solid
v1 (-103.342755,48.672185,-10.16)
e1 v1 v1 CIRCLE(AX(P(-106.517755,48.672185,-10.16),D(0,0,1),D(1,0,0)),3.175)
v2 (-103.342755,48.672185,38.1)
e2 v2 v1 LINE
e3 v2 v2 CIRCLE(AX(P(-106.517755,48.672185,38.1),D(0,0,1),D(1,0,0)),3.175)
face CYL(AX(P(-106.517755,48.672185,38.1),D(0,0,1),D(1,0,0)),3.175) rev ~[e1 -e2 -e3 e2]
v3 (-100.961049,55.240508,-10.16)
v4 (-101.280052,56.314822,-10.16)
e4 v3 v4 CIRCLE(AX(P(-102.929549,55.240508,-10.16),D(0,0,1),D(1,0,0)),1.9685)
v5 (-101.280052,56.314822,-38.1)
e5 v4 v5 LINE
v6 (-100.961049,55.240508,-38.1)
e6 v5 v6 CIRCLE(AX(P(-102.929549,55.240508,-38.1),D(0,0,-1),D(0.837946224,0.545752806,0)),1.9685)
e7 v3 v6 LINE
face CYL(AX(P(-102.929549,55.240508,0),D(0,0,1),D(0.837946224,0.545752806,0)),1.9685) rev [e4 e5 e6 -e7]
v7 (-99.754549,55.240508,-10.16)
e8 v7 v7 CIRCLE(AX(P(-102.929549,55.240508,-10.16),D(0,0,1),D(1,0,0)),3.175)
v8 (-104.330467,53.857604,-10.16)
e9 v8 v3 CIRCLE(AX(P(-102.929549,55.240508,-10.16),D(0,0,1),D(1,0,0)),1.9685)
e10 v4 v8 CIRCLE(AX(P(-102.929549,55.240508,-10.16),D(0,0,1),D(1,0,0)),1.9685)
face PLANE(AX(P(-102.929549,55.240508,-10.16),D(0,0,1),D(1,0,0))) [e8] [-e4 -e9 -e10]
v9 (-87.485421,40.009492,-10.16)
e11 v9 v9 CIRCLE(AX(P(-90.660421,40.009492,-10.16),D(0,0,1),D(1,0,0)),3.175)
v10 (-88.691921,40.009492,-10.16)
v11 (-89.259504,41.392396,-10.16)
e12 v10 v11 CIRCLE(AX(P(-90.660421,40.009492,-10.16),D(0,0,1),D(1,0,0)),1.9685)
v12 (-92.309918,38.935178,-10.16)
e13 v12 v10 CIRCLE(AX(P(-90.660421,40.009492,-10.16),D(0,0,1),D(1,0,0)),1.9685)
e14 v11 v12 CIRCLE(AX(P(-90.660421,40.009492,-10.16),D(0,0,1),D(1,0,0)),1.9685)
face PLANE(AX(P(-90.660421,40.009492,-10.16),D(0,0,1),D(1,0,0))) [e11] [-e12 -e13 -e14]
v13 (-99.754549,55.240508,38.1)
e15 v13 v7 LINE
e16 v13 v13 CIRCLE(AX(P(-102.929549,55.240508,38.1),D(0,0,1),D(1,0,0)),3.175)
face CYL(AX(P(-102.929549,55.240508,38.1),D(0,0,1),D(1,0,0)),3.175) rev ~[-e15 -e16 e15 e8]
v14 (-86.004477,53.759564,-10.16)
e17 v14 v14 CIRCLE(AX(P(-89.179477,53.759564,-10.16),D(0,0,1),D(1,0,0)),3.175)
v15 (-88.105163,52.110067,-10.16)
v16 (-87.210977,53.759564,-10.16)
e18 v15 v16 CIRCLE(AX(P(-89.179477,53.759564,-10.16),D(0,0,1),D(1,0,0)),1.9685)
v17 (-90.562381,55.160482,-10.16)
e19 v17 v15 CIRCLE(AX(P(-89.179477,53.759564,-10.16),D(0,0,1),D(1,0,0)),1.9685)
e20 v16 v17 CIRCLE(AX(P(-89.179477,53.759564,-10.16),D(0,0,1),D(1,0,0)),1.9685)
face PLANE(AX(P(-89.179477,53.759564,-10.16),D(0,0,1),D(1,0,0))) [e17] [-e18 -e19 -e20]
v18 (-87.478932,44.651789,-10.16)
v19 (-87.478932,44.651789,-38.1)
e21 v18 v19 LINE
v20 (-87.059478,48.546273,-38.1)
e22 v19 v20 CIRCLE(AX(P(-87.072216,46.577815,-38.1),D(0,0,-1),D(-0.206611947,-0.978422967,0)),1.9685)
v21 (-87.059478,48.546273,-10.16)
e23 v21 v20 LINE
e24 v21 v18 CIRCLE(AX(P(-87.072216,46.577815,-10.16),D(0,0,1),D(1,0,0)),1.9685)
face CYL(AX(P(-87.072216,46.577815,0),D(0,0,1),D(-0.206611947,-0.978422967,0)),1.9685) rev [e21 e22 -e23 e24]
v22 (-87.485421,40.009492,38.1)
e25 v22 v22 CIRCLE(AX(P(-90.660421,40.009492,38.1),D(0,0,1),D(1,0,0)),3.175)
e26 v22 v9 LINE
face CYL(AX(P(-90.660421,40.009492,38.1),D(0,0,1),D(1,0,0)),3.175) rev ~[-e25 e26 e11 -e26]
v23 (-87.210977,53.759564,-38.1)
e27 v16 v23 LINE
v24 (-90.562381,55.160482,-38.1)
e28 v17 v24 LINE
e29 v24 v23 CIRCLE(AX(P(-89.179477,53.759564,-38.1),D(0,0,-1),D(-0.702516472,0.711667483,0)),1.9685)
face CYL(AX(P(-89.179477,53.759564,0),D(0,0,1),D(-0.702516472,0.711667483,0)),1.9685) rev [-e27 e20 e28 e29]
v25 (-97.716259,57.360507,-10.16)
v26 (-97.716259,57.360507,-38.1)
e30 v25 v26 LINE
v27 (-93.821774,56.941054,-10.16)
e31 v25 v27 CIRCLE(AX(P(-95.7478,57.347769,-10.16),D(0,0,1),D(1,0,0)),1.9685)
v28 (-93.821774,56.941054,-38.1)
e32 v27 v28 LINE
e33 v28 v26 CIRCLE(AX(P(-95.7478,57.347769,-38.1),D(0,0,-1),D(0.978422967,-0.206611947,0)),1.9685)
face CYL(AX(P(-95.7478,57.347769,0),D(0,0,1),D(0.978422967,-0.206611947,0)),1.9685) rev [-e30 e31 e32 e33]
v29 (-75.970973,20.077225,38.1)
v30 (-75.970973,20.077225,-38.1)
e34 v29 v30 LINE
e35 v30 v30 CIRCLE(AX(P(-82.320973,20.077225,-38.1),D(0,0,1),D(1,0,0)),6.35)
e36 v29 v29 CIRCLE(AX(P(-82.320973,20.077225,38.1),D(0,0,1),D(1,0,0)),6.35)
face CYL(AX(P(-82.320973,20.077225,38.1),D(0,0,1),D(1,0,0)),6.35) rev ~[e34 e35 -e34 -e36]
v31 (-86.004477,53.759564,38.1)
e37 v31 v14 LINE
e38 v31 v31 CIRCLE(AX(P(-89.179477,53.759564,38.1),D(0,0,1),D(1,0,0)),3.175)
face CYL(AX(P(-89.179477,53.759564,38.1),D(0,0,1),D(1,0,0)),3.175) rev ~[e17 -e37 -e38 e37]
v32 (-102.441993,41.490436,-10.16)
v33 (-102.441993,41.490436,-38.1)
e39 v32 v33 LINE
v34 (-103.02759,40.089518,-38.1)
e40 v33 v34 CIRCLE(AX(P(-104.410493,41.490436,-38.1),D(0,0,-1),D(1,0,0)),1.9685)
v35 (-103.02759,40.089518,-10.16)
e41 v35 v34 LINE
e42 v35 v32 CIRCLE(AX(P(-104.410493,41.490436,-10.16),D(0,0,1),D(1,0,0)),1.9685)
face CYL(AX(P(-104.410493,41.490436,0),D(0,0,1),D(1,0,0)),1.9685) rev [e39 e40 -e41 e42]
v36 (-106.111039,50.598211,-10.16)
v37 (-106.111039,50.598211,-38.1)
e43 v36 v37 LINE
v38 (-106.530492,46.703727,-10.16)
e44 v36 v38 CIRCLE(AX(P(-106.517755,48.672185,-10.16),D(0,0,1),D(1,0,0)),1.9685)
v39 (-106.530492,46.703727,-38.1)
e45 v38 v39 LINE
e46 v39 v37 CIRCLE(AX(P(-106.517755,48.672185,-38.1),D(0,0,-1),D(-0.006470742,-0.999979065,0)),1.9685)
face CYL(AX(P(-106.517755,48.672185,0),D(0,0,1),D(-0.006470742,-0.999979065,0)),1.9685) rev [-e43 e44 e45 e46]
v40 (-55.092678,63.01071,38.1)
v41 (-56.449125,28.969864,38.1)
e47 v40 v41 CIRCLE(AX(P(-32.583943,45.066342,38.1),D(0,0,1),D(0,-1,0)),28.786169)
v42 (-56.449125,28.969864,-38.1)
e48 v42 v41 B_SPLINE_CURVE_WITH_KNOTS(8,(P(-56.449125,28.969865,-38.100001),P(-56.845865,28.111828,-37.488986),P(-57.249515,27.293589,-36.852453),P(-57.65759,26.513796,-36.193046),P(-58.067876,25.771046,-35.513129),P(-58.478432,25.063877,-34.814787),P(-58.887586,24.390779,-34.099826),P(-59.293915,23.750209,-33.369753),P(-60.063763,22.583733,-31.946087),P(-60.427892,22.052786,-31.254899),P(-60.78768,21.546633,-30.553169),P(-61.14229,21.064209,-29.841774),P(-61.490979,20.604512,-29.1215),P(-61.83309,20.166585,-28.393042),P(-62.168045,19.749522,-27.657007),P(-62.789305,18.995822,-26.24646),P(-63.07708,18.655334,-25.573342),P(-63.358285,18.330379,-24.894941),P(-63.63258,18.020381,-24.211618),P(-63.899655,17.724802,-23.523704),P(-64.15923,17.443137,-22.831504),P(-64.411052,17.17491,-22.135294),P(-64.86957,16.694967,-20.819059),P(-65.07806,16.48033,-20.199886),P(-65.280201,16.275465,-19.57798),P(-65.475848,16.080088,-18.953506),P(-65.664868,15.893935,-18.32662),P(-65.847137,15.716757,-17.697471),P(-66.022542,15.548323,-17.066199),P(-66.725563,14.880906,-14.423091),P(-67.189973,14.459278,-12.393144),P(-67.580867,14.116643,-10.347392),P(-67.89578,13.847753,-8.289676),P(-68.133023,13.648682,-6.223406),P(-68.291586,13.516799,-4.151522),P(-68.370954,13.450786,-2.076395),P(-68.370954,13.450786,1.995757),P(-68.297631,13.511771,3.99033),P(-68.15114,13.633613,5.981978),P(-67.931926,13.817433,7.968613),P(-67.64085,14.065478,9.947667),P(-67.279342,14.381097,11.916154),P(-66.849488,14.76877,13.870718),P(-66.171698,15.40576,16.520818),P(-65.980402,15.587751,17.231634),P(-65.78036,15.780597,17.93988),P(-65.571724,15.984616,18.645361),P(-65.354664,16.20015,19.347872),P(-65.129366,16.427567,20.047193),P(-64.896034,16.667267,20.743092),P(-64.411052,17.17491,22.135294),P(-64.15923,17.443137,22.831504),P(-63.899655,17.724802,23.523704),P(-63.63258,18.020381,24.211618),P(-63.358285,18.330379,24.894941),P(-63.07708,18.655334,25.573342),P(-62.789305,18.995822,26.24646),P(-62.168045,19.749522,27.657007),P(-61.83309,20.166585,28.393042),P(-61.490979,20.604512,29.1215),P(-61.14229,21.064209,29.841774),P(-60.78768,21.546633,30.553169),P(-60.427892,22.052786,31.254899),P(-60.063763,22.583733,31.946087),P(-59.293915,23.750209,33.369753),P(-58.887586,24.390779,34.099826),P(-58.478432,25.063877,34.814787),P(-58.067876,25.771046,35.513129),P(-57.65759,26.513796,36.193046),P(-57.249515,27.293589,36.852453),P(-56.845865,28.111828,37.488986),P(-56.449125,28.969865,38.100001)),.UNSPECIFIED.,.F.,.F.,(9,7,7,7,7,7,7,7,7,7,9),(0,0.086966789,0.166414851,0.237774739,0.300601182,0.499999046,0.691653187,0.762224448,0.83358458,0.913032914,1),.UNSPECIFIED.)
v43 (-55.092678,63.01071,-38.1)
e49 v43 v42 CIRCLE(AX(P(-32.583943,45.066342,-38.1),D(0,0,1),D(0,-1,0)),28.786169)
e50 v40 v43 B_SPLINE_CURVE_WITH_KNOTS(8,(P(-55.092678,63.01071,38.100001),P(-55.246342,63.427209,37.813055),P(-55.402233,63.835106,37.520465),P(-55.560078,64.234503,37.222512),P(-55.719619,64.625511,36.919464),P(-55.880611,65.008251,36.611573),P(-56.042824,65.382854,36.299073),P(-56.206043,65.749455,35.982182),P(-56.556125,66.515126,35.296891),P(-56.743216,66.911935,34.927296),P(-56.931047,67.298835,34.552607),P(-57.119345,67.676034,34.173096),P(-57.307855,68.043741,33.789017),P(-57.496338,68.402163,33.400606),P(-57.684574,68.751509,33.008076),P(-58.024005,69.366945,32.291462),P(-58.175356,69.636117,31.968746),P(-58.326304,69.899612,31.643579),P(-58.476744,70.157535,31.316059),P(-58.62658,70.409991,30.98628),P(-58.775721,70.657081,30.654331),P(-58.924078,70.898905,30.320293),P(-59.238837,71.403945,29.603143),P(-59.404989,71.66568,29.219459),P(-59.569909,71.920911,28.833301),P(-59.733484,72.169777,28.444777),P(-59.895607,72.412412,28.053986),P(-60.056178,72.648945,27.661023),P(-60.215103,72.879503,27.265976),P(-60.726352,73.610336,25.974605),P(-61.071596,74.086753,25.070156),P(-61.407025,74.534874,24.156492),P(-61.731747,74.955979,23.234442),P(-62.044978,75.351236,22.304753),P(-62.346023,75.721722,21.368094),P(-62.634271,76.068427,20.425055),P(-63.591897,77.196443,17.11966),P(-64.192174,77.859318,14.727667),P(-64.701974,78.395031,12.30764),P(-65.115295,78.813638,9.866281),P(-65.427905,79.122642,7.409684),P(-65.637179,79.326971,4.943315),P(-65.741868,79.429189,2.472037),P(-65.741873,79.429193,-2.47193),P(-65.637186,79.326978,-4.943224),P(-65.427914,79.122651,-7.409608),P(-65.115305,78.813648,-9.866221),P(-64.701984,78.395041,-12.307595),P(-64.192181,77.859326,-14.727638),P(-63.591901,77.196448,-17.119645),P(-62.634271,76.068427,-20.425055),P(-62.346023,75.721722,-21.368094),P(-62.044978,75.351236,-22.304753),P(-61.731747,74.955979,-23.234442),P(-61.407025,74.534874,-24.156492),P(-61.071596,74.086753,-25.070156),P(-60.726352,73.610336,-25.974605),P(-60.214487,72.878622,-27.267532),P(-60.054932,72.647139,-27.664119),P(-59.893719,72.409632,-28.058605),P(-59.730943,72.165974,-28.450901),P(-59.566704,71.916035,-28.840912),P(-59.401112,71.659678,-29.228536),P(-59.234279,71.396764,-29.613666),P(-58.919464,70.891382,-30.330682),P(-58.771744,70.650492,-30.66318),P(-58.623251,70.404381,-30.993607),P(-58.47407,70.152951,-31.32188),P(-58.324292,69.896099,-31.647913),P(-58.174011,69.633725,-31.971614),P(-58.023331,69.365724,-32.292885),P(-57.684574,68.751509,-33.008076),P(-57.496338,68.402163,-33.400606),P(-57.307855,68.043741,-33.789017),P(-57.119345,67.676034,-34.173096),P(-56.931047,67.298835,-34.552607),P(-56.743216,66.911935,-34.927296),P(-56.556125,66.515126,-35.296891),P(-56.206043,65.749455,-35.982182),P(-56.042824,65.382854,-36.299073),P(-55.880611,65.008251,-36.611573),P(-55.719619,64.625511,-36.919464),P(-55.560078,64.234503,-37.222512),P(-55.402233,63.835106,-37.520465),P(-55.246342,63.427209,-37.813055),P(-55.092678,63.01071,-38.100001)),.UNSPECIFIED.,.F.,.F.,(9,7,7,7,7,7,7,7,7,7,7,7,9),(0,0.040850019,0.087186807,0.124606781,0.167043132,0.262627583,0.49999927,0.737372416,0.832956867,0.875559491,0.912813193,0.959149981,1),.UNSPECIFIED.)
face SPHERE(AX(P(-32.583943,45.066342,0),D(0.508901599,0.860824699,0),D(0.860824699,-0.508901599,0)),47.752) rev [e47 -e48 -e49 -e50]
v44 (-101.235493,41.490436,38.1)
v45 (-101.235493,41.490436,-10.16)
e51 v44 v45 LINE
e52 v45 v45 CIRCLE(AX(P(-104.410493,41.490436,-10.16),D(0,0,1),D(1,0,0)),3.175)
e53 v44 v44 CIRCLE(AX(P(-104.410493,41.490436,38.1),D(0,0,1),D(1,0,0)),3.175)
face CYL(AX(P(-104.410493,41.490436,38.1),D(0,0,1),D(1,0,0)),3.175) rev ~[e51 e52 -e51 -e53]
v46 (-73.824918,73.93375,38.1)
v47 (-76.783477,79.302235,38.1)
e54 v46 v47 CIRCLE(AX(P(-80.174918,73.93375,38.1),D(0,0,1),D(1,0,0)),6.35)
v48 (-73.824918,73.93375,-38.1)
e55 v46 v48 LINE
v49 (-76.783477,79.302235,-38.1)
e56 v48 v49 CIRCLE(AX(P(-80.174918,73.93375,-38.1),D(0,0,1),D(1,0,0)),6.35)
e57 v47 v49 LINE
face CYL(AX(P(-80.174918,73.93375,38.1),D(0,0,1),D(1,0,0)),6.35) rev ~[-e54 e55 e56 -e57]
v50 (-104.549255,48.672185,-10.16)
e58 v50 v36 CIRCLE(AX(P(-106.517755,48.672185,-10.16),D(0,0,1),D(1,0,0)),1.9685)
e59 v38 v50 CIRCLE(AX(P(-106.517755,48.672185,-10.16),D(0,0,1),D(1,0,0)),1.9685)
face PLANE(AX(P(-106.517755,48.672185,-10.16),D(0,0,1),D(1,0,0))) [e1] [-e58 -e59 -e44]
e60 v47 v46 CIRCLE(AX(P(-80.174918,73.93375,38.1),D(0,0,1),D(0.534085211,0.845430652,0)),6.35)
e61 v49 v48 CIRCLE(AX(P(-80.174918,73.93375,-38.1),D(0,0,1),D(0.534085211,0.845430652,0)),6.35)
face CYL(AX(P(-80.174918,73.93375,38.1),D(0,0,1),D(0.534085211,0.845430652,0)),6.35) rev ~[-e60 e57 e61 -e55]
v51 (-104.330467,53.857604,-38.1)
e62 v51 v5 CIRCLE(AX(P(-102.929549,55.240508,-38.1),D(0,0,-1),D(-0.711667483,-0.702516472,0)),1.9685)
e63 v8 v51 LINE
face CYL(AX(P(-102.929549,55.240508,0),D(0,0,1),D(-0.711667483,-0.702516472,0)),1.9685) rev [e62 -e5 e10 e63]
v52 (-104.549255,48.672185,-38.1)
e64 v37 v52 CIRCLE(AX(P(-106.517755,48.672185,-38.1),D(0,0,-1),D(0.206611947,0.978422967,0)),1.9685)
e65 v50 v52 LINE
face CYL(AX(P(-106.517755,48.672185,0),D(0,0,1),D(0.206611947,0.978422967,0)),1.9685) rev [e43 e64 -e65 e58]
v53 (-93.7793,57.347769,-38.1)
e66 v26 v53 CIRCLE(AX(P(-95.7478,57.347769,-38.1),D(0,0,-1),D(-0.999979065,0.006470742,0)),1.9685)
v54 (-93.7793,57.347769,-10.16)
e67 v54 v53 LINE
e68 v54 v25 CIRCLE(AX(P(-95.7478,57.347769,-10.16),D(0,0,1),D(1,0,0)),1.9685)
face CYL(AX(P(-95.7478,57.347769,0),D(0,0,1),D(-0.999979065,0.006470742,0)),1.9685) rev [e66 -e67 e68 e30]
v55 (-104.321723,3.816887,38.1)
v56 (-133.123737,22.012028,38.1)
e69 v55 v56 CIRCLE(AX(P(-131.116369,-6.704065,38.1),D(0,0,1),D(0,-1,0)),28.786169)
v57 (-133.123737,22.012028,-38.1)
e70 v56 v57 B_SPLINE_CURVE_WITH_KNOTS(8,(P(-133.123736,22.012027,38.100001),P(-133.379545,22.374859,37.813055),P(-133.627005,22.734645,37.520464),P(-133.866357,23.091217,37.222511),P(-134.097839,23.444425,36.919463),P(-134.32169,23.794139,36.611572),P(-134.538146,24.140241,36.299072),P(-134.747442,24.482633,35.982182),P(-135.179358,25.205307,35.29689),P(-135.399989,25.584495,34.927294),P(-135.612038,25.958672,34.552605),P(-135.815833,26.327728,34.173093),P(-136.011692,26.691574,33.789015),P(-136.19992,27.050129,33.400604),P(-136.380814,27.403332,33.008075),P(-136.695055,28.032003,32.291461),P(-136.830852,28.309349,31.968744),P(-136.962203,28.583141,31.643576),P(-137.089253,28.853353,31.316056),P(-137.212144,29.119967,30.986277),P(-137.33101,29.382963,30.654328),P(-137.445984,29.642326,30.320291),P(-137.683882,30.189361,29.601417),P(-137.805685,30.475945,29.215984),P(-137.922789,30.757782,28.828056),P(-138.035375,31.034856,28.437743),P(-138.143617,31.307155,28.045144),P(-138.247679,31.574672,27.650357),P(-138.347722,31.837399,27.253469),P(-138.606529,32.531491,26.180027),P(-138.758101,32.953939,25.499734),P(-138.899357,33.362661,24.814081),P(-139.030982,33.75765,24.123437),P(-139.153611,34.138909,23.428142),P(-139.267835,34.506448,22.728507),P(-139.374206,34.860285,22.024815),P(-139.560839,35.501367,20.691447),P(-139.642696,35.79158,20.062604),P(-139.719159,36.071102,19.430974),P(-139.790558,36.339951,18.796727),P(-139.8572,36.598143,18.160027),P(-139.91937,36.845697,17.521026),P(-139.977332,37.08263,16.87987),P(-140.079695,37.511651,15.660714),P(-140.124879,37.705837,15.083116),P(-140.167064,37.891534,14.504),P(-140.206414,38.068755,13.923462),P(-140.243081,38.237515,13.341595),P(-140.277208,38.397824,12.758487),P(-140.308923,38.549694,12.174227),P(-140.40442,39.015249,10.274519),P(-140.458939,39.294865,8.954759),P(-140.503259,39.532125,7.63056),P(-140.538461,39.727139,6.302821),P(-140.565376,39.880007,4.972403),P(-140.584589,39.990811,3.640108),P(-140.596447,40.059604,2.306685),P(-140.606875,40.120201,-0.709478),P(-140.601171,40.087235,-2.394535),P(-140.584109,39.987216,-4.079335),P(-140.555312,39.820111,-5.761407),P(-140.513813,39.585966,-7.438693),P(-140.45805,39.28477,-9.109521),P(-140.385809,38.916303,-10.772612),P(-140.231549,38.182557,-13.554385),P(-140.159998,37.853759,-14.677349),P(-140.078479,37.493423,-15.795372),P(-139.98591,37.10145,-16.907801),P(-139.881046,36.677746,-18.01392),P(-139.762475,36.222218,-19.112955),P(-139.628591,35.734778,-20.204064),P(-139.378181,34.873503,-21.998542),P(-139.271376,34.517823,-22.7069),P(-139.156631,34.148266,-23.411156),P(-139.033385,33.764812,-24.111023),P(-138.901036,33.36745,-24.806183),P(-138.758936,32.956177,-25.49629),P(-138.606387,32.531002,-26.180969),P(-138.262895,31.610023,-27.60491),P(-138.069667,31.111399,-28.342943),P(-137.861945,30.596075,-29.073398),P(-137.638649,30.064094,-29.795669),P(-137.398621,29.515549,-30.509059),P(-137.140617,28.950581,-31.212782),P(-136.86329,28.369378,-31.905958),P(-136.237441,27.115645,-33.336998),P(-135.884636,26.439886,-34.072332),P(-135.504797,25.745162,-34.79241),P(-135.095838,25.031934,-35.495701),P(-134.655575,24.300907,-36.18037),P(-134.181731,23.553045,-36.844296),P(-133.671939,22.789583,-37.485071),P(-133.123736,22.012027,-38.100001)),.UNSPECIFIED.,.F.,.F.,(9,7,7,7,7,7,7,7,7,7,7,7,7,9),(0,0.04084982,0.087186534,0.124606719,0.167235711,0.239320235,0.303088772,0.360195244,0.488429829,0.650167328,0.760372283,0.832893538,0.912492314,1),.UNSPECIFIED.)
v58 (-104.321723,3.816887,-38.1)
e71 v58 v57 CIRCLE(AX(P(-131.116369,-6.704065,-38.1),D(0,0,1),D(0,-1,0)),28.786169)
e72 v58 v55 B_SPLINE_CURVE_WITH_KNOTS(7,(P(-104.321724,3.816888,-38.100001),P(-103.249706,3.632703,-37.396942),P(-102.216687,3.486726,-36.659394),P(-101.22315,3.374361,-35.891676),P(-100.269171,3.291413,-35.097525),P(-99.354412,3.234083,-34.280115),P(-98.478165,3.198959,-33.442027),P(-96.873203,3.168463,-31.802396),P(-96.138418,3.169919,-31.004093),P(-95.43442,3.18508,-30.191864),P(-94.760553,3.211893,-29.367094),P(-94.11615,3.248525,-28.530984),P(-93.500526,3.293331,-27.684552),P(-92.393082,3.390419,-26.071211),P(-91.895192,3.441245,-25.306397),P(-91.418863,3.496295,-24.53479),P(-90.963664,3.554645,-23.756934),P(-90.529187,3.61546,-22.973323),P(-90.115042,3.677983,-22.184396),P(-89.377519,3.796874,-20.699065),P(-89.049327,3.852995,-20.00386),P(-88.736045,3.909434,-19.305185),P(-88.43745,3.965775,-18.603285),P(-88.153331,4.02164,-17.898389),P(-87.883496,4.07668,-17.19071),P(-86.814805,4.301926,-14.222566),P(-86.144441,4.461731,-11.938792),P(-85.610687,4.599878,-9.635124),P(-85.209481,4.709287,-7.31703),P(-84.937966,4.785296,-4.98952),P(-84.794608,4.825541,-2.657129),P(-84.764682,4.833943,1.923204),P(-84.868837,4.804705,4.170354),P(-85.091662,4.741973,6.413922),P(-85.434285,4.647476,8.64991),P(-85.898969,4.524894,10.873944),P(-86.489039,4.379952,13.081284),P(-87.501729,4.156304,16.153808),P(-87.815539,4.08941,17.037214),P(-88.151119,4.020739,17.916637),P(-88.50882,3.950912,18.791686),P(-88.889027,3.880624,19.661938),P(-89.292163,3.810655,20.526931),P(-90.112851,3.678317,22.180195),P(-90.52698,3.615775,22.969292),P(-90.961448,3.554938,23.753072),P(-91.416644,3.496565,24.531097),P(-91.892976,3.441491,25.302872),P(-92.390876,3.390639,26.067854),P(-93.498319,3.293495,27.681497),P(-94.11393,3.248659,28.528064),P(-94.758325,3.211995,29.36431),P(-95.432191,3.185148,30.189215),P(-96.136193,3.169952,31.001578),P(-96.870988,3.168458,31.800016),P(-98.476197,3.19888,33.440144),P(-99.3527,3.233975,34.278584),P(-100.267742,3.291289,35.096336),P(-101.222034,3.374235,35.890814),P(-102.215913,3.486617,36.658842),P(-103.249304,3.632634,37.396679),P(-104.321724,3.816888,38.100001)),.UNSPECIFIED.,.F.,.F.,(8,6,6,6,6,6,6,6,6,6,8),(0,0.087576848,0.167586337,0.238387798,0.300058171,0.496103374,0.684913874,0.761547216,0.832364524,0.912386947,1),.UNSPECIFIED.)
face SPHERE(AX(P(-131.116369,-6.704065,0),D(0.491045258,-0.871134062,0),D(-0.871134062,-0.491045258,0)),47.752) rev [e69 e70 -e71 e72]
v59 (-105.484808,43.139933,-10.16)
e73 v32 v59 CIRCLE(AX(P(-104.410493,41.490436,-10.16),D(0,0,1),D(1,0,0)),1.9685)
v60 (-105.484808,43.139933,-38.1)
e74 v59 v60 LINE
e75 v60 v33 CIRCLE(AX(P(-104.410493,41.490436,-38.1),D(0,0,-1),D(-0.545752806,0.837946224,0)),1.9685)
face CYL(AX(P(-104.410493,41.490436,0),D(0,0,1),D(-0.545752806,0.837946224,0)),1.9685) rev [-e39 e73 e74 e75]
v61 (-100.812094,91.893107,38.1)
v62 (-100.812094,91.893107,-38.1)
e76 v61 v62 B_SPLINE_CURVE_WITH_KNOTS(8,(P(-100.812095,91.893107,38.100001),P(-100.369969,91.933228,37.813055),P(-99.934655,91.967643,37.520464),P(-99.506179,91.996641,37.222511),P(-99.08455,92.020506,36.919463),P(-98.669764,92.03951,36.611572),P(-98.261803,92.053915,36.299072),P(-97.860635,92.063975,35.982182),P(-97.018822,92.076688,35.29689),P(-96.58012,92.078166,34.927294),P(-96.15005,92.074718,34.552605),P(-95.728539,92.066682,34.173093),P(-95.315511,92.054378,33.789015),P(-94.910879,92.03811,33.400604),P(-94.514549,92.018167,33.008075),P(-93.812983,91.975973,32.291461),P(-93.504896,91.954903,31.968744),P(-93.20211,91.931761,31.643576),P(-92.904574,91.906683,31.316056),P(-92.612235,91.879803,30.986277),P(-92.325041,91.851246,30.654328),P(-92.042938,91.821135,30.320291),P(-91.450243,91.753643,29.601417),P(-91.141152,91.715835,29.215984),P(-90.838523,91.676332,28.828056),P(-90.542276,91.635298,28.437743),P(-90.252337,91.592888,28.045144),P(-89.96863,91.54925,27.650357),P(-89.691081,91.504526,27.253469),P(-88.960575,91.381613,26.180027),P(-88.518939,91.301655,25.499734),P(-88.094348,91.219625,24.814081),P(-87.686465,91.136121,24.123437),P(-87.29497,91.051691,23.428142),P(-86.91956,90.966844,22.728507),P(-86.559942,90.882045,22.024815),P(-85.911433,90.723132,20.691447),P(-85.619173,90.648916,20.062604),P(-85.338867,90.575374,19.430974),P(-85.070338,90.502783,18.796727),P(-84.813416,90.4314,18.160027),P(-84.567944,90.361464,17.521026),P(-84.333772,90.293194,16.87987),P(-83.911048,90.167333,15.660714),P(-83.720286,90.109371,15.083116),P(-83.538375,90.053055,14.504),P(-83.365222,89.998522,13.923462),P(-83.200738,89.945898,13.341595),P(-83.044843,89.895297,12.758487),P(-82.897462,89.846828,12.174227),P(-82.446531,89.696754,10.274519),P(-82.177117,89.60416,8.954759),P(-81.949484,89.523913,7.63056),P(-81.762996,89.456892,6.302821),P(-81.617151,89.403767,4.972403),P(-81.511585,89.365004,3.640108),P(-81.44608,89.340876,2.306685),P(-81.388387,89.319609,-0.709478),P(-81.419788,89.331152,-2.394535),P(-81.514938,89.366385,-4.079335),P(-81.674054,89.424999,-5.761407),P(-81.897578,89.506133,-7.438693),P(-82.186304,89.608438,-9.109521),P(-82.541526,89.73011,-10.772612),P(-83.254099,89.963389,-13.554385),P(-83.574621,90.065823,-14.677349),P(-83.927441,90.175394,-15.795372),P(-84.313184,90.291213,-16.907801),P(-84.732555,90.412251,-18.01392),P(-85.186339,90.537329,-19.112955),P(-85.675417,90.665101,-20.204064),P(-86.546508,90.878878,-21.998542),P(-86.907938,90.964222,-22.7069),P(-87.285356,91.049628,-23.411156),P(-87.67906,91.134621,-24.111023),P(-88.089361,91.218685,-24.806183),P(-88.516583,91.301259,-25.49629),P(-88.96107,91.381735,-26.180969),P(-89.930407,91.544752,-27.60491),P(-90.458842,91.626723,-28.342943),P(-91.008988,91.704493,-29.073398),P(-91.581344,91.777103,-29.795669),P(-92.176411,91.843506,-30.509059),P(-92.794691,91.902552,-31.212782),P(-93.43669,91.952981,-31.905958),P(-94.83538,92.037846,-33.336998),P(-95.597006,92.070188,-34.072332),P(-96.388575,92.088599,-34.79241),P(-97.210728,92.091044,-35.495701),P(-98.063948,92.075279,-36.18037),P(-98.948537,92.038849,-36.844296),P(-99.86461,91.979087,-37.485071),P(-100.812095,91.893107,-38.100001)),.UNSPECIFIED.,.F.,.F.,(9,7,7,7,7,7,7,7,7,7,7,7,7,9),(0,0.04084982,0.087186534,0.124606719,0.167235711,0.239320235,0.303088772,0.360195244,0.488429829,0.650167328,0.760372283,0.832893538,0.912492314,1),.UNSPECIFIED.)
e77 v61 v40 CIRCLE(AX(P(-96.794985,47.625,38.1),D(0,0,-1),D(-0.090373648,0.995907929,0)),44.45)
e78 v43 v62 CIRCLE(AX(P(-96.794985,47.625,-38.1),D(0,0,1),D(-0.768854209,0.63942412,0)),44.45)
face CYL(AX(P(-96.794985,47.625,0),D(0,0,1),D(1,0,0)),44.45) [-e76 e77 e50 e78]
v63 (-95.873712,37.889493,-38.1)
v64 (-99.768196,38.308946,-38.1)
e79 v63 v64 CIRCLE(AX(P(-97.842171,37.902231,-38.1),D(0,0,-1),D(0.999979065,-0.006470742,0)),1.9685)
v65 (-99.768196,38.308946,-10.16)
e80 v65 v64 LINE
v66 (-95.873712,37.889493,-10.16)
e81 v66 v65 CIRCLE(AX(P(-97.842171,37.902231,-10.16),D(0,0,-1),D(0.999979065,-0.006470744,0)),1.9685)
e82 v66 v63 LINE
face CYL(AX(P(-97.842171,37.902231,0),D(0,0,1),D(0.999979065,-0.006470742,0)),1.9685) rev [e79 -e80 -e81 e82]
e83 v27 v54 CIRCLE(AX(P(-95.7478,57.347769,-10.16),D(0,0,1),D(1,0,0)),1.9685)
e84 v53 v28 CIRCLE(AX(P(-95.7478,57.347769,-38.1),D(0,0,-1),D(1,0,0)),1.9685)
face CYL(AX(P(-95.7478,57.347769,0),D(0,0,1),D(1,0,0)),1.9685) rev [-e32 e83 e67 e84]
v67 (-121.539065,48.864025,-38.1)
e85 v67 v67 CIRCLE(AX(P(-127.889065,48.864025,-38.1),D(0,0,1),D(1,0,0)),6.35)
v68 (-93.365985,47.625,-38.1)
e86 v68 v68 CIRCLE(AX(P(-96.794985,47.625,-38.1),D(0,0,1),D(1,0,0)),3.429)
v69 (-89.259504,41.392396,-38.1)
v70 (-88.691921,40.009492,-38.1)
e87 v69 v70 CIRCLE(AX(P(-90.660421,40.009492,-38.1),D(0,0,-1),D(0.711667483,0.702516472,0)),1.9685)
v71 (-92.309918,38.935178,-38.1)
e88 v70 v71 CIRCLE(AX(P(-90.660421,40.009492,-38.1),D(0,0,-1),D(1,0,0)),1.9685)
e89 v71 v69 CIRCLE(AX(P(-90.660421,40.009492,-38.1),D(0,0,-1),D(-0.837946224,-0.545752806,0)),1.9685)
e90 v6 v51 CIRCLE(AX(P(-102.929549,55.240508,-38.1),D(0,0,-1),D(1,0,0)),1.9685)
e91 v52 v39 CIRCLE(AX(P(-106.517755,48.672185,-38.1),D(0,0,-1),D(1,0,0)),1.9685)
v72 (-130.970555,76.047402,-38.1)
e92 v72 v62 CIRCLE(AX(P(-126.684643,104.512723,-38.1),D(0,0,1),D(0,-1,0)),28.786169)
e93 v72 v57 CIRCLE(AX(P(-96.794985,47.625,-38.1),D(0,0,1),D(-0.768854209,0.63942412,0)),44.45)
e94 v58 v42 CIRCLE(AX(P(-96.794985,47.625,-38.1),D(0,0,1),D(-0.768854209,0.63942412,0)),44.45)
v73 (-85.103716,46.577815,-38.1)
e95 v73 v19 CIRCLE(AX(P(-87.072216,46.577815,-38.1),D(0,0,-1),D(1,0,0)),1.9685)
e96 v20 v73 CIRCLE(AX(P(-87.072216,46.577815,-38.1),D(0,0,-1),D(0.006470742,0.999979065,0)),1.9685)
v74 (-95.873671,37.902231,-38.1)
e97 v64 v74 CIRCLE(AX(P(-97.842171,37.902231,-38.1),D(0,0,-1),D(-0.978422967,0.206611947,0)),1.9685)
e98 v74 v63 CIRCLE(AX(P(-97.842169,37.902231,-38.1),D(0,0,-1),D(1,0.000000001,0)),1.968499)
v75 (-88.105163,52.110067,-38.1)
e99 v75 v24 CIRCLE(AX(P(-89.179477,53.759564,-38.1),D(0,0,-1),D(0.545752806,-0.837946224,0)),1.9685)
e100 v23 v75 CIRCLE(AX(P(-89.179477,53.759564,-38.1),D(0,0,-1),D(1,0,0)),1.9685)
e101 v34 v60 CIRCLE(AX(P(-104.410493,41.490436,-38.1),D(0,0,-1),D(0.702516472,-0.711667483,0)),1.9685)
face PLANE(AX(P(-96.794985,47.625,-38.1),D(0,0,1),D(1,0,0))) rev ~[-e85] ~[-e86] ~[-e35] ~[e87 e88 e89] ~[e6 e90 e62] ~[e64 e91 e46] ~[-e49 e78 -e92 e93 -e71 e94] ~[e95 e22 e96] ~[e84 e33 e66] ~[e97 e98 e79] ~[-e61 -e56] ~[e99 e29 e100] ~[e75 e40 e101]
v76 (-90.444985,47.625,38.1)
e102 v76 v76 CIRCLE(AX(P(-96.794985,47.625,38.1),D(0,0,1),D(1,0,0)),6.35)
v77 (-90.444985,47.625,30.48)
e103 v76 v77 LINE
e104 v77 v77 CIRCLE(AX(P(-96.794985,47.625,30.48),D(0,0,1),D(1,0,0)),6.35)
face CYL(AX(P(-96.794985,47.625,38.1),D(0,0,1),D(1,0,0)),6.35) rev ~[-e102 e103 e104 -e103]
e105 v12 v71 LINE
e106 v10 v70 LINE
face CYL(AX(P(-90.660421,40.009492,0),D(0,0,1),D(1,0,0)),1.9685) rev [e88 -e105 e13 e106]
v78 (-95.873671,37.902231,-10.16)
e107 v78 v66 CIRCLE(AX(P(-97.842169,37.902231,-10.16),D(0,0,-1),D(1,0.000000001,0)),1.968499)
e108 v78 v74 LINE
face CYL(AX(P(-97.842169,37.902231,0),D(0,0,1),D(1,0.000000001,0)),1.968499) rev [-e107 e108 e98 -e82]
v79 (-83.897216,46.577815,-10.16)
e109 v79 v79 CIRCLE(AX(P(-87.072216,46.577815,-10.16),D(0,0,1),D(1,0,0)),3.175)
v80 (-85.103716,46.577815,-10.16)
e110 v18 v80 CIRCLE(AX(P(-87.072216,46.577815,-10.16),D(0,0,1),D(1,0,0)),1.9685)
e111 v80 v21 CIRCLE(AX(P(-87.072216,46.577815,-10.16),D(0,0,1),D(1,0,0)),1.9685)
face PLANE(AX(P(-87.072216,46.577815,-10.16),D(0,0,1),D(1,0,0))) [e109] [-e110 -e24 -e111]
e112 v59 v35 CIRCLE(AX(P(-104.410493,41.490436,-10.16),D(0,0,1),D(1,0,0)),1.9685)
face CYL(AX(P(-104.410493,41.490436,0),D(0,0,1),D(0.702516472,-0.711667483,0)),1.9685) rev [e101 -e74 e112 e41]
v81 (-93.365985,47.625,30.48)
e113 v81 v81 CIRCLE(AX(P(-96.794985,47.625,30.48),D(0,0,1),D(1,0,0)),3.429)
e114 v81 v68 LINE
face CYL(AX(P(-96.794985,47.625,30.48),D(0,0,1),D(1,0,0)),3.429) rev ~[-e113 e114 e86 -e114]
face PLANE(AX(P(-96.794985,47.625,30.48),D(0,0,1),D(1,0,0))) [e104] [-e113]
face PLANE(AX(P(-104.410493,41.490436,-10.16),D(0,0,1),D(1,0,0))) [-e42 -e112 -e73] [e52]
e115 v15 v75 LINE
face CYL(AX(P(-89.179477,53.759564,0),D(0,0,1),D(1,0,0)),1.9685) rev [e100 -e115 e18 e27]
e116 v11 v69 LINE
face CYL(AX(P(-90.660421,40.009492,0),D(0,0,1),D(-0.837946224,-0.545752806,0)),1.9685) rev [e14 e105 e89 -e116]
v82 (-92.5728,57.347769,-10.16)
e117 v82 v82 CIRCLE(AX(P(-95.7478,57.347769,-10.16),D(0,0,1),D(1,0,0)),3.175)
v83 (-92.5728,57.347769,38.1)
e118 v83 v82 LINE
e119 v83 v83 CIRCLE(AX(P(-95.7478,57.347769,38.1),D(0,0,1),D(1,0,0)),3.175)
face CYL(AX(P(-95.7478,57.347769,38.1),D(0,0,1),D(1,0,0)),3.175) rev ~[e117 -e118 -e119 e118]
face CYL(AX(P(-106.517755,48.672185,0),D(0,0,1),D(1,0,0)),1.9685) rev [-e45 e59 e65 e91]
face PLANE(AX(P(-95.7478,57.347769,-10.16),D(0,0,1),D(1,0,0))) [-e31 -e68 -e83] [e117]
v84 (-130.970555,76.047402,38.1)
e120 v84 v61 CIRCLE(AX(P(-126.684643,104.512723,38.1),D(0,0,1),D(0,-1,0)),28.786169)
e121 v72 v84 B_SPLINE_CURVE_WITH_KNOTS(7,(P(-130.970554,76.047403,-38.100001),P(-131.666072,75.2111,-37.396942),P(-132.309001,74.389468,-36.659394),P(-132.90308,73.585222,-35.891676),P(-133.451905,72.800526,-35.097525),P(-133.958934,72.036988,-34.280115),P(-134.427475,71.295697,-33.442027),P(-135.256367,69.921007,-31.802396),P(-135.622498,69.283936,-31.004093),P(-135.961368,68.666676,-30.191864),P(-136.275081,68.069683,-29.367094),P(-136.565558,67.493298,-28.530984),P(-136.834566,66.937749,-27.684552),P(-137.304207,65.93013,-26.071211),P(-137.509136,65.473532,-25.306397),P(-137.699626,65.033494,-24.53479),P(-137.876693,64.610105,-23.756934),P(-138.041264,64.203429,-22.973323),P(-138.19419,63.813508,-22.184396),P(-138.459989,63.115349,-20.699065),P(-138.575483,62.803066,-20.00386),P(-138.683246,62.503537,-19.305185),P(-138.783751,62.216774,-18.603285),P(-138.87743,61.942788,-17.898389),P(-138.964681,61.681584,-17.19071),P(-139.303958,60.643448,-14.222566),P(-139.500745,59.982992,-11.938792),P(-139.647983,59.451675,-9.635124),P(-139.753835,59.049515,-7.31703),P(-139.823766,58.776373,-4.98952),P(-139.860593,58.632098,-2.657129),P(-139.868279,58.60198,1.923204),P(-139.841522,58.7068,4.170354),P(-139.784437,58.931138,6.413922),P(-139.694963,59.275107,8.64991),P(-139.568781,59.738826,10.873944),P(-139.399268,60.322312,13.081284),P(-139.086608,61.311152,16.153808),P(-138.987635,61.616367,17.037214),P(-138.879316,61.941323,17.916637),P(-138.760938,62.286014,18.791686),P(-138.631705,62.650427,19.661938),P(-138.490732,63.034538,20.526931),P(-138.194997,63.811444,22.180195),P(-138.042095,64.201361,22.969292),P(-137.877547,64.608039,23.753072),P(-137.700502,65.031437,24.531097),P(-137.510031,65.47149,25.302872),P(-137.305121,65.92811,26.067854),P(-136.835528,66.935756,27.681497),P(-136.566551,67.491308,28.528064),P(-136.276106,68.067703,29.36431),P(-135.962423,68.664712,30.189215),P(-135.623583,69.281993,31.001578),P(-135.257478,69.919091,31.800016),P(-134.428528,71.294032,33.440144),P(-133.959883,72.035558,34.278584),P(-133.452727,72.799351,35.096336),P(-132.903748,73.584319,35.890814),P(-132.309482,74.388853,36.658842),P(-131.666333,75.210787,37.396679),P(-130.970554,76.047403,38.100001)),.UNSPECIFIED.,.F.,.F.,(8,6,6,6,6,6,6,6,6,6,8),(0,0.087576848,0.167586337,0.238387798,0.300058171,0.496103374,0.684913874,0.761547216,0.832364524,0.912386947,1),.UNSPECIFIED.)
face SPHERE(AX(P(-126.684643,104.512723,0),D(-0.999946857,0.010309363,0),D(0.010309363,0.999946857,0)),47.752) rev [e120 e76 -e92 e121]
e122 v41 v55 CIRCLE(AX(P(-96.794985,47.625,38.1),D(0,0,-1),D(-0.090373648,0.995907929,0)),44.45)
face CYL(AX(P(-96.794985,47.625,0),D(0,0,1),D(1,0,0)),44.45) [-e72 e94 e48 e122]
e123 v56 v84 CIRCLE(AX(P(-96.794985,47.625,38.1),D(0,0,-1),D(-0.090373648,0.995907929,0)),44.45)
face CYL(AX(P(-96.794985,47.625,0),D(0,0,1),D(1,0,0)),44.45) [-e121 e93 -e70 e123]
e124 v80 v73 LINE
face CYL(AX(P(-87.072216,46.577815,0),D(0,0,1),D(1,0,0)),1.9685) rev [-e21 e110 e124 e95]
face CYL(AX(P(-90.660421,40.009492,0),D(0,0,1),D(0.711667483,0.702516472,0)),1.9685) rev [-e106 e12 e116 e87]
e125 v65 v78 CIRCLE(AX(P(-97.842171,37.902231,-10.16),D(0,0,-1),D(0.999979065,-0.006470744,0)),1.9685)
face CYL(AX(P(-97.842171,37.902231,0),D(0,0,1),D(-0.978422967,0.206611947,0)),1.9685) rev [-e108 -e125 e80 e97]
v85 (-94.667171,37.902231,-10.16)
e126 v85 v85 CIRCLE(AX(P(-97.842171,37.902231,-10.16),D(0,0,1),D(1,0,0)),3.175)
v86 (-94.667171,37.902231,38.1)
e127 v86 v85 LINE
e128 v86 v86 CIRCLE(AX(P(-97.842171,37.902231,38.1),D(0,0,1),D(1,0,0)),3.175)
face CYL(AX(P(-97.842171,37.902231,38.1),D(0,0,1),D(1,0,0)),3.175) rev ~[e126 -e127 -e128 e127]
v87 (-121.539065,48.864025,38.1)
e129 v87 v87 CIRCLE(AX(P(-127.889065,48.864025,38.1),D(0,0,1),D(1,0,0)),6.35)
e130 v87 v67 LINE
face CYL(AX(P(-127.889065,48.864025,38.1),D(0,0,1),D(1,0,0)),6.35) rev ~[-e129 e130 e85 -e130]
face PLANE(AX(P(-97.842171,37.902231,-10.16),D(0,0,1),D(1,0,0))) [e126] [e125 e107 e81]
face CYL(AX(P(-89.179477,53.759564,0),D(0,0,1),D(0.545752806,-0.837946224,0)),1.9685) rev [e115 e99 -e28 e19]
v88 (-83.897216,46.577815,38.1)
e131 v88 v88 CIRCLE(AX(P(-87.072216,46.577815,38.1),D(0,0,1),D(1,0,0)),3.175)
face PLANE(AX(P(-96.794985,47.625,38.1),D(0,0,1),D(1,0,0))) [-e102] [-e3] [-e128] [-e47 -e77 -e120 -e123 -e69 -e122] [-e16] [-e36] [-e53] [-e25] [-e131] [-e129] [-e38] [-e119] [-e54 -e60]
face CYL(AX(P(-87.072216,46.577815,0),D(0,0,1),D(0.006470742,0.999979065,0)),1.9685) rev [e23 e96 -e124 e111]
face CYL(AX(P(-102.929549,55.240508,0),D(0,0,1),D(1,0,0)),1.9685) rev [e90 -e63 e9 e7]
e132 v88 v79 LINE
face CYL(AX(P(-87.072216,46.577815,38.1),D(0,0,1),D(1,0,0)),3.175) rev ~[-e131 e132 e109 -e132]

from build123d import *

# Parameters (mm, degrees)
F0_R          = 44.45
F0_R_2        = 16.51
F1_DEPTH      = 38.1
F1_DEPTH_BACK = 38.1
F6_R          = 3.175
F6_R_2        = 1.9685
F7_DEPTH      = 48.26
F8_R          = 6.35
F9_DEPTH      = 7.62
F10_R         = 3.429
F11_DEPTH     = 68.58
F12_R         = 6.35
F13_DEPTH     = 76.2


with BuildPart() as f1:
    # F0 (on Top) → F1 (new body, two sides)
    with BuildSketch(Plane.XY) as f1_sk:
        with Locations((-96.7949852347, 47.625)):
            Circle(F0_R)
        with Locations((-96.7949852347, 47.625)):
            Circle(F0_R_2, mode=Mode.SUBTRACT)
        with Locations((-96.7949852347, 47.625)):
            Circle(F0_R_2)
        with BuildLine():
            ThreePointArc((-88.1051627648, 52.1100670498), (-87.4115771175, 50.37826953), (-87.0594782396, 48.5462733292))
            ThreePointArc((-87.0594782396, 48.5462733292), (-85.6757800173, 47.965243489), (-85.103715896, 46.5778145407))
            ThreePointArc((-85.103715896, 46.5778145407), (-85.8323827306, 45.0488259953), (-87.478931514, 44.6517889292))
            ThreePointArc((-87.478931514, 44.6517889292), (-88.2130581693, 42.9367840447), (-89.2595036018, 41.3923956038))
            ThreePointArc((-89.2595036018, 41.3923956038), (-88.839336444, 40.7569162622), (-88.6919210429, 40.0094919292))
            ThreePointArc((-88.6919210429, 40.0094919292), (-90.1000831422, 38.1224270954), (-92.309918185, 38.9351775301))
            ThreePointArc((-92.309918185, 38.9351775301), (-94.0417157047, 38.2415918827), (-95.8737119056, 37.8894930048))
            ThreePointArc((-95.8737119056, 37.8894930048), (-98.0529677671, 35.9450498204), (-99.7681963056, 38.3089462792))
            ThreePointArc((-99.7681963056, 38.3089462792), (-101.48320119, 39.0430729345), (-103.0275896309, 40.089518367))
            ThreePointArc((-103.0275896309, 40.089518367), (-105.9434851899, 40.2555560033), (-105.4848077047, 43.1399329502))
            ThreePointArc((-105.4848077047, 43.1399329502), (-106.178393352, 44.87173047), (-106.5304922299, 46.7037266708))
            ThreePointArc((-106.5304922299, 46.7037266708), (-108.4749354144, 48.8829825323), (-106.1110389555, 50.5982110708))
            ThreePointArc((-106.1110389555, 50.5982110708), (-105.3769123002, 52.3132159553), (-104.3304668677, 53.8576043962))
            ThreePointArc((-104.3304668677, 53.8576043962), (-104.1644292314, 56.7734999551), (-101.2800522845, 56.3148224699))
            ThreePointArc((-101.2800522845, 56.3148224699), (-99.5482547647, 57.0084081173), (-97.7162585639, 57.3605069952))
            ThreePointArc((-97.7162585639, 57.3605069952), (-95.7414309138, 59.3162590358), (-93.7792997754, 57.3477693387))
            ThreePointArc((-93.7792997754, 57.3477693387), (-93.7899471678, 57.1433056087), (-93.8217741639, 56.9410537208))
            ThreePointArc((-93.8217741639, 56.9410537208), (-92.1067692795, 56.2069270655), (-90.5623808386, 55.160481633))
            ThreePointArc((-90.5623808386, 55.160481633), (-88.4202847093, 55.5757742752), (-87.210977164, 53.7595641919))
            ThreePointArc((-87.210977164, 53.7595641919), (-87.4489020941, 52.8214265806), (-88.1051627648, 52.1100670498))
        make_face(mode=Mode.SUBTRACT)
        with BuildLine():
            ThreePointArc((-87.478931514, 44.6517889292), (-89.0293967369, 46.7886116136), (-87.0594782396, 48.5462733292))
            ThreePointArc((-87.0594782396, 48.5462733292), (-87.4115771175, 50.37826953), (-88.1051627648, 52.1100670498))
            ThreePointArc((-88.1051627648, 52.1100670498), (-90.7124690483, 52.524684387), (-90.5623808386, 55.160481633))
            ThreePointArc((-90.5623808386, 55.160481633), (-92.1067692795, 56.2069270655), (-93.8217741639, 56.9410537208))
            ThreePointArc((-93.8217741639, 56.9410537208), (-95.9585968484, 55.3905884978), (-97.7162585639, 57.3605069952))
            ThreePointArc((-97.7162585639, 57.3605069952), (-99.5482547647, 57.0084081173), (-101.2800522845, 56.3148224699))
            ThreePointArc((-101.2800522845, 56.3148224699), (-101.0424845928, 55.8008459714), (-100.9610494266, 55.2405080708))
            ThreePointArc((-100.9610494266, 55.2405080708), (-102.1821250936, 53.4194234719), (-104.3304668677, 53.8576043962))
            ThreePointArc((-104.3304668677, 53.8576043962), (-105.3769123002, 52.3132159553), (-106.1110389555, 50.5982110708))
            ThreePointArc((-106.1110389555, 50.5982110708), (-104.988766028, 49.9120186247), (-104.5492545734, 48.6721854593))
            ThreePointArc((-104.5492545734, 48.6721854593), (-105.1303256251, 47.2757495806), (-106.5304922299, 46.7037266708))
            ThreePointArc((-106.5304922299, 46.7037266708), (-106.178393352, 44.87173047), (-105.4848077047, 43.1399329502))
            ThreePointArc((-105.4848077047, 43.1399329502), (-103.4723556943, 43.221010878), (-102.4419933055, 41.4904358081))
            ThreePointArc((-102.4419933055, 41.4904358081), (-102.5942832222, 40.7312433534), (-103.0275896309, 40.089518367))
            ThreePointArc((-103.0275896309, 40.089518367), (-101.48320119, 39.0430729345), (-99.7681963056, 38.3089462792))
            ThreePointArc((-99.7681963056, 38.3089462792), (-97.6377069641, 39.8600832689), (-95.8736706941, 37.9022306613))
            ThreePointArc((-95.8736706941, 37.9022306613), (-95.873680997, 37.8958617997), (-95.8737119056, 37.8894930048))
            ThreePointArc((-95.8737119056, 37.8894930048), (-94.0417157047, 38.2415918827), (-92.309918185, 38.9351775301))
            ThreePointArc((-92.309918185, 38.9351775301), (-91.8953008477, 41.5424838136), (-89.2595036018, 41.3923956038))
            ThreePointArc((-89.2595036018, 41.3923956038), (-88.2130581693, 42.9367840447), (-87.478931514, 44.6517889292))
        make_face()
    extrude(amount=F1_DEPTH)
    extrude(f1_sk.sketch, amount=-F1_DEPTH_BACK)

    # F2 (on Top) → F3 (revolve, cut)
    with BuildSketch(Plane.XY):
        with BuildLine():
            Line((-174.4341057324, 105.0050152593), (-126.6846434119, 104.5127225599))
            Line((-126.6846434119, 104.5127225599), (-78.9351810914, 104.0204298605))
            ThreePointArc((-78.9351810914, 104.0204298605), (-126.1923507125, 152.2621848804), (-174.4341057324, 105.0050152593))
        make_face()
    revolve(axis=Axis((-150.5593745721, 104.7588689096, 0), (0.9999468571, -0.0103093629, 0)), mode=Mode.SUBTRACT)

    # F2 (on Top) → F4 (revolve, cut)
    with BuildSketch(Plane.XY):
        with BuildLine():
            Line((-8.2828741018, 86.1724430488), (-32.5839432458, 45.0663420119))
            Line((-32.5839432458, 45.0663420119), (-56.8850123899, 3.960240975))
            ThreePointArc((-56.8850123899, 3.960240975), (8.5221577911, 20.7652728678), (-8.2828741018, 86.1724430488))
        make_face()
    revolve(axis=Axis((-44.7344778179, 24.5132914934, 0), (-0.5089015988, -0.8608246992, 0)), mode=Mode.SUBTRACT)

    # F2 (on Top) → F5 (revolve, cut)
    with BuildSketch(Plane.XY):
        with BuildLine():
            ThreePointArc((-154.564762223, 34.8943291645), (-172.7147627828, -30.1524577483), (-107.66797587, -48.3024583081))
            Line((-107.66797587, -48.3024583081), (-131.1163690465, -6.7040645718))
            Line((-131.1163690465, -6.7040645718), (-154.564762223, 34.8943291645))
        make_face()
    revolve(axis=Axis((-119.3921724583, -27.5032614399, 0), (-0.4910452583, 0.8711340622, 0)), mode=Mode.SUBTRACT)

    # F6 (on face) → F7 (cut)
    with BuildSketch(Plane.XY.offset(38.1)):
        with Locations((-102.9295494266, 55.2405080708)):
            Circle(F6_R)
        with Locations((-102.9295494266, 55.2405080708)):
            Circle(F6_R_2, mode=Mode.SUBTRACT)
        with Locations((-95.7477997754, 57.3477693387)):
            Circle(F6_R)
        with Locations((-95.7477997754, 57.3477693387)):
            Circle(F6_R_2, mode=Mode.SUBTRACT)
        with Locations((-89.179477164, 53.7595641919)):
            Circle(F6_R)
        with Locations((-89.179477164, 53.7595641919)):
            Circle(F6_R_2, mode=Mode.SUBTRACT)
        with Locations((-87.072215896, 46.5778145407)):
            Circle(F6_R)
        with Locations((-87.072215896, 46.5778145407)):
            Circle(F6_R_2, mode=Mode.SUBTRACT)
        with Locations((-90.6604210429, 40.0094919292)):
            Circle(F6_R)
        with Locations((-90.6604210429, 40.0094919292)):
            Circle(F6_R_2, mode=Mode.SUBTRACT)
        with Locations((-97.8421706941, 37.9022306613)):
            Circle(F6_R)
        with BuildLine():
            ThreePointArc((-95.8736706941, 37.9022306613), (-95.873680997, 37.8958617997), (-95.8737119056, 37.8894930048))
            ThreePointArc((-95.8737119056, 37.8894930048), (-99.8106603912, 37.9085995228), (-95.8736706941, 37.9022306613))
        make_face(mode=Mode.SUBTRACT)
        with Locations((-104.4104933055, 41.4904358081)):
            Circle(F6_R)
        with Locations((-104.4104933055, 41.4904358081)):
            Circle(F6_R_2, mode=Mode.SUBTRACT)
        with Locations((-106.5177545734, 48.6721854593)):
            Circle(F6_R)
        with Locations((-106.5177545734, 48.6721854593)):
            Circle(F6_R_2, mode=Mode.SUBTRACT)
    extrude(amount=-F7_DEPTH, mode=Mode.SUBTRACT)

    # F8 (on face) → F9 (cut)
    with BuildSketch(Plane.XY.offset(38.1)):
        with Locations((-96.7949852347, 47.625)):
            Circle(F8_R)
    extrude(amount=-F9_DEPTH, mode=Mode.SUBTRACT)

    # F10 (on face) → F11 (cut, through all)
    with BuildSketch(Plane.XY.offset(30.48)):
        with Locations((-96.7949852347, 47.625)):
            Circle(F10_R)
    extrude(amount=-F11_DEPTH, mode=Mode.SUBTRACT)

    # F12 (on face) → F13 (cut, through all)
    with BuildSketch(Plane.XY.offset(38.1)):
        with Locations((-127.8890646346, 48.8640254414)):
            Circle(F12_R)
        with BuildLine():
            ThreePointArc((-76.7834769385, 79.3022345884), (-85.5434026681, 77.325191035), (-83.5663591148, 68.5652653054))
            Line((-83.5663591148, 68.5652653054), (-76.7834769385, 79.3022345884))
        make_face()
        with BuildLine():
            Line((-76.7834769385, 79.3022345884), (-83.5663591148, 68.5652653054))
            ThreePointArc((-83.5663591148, 68.5652653054), (-77.1100486093, 68.3723584434), (-73.8249180267, 73.9337499469))
            ThreePointArc((-73.8249180267, 73.9337499469), (-74.6135265232, 76.9986193642), (-76.7834769385, 79.3022345884))
        make_face()
        with Locations((-82.3209730429, 20.0772246117)):
            Circle(F12_R)
    extrude(amount=-F13_DEPTH, mode=Mode.SUBTRACT)


solid = f1.part
